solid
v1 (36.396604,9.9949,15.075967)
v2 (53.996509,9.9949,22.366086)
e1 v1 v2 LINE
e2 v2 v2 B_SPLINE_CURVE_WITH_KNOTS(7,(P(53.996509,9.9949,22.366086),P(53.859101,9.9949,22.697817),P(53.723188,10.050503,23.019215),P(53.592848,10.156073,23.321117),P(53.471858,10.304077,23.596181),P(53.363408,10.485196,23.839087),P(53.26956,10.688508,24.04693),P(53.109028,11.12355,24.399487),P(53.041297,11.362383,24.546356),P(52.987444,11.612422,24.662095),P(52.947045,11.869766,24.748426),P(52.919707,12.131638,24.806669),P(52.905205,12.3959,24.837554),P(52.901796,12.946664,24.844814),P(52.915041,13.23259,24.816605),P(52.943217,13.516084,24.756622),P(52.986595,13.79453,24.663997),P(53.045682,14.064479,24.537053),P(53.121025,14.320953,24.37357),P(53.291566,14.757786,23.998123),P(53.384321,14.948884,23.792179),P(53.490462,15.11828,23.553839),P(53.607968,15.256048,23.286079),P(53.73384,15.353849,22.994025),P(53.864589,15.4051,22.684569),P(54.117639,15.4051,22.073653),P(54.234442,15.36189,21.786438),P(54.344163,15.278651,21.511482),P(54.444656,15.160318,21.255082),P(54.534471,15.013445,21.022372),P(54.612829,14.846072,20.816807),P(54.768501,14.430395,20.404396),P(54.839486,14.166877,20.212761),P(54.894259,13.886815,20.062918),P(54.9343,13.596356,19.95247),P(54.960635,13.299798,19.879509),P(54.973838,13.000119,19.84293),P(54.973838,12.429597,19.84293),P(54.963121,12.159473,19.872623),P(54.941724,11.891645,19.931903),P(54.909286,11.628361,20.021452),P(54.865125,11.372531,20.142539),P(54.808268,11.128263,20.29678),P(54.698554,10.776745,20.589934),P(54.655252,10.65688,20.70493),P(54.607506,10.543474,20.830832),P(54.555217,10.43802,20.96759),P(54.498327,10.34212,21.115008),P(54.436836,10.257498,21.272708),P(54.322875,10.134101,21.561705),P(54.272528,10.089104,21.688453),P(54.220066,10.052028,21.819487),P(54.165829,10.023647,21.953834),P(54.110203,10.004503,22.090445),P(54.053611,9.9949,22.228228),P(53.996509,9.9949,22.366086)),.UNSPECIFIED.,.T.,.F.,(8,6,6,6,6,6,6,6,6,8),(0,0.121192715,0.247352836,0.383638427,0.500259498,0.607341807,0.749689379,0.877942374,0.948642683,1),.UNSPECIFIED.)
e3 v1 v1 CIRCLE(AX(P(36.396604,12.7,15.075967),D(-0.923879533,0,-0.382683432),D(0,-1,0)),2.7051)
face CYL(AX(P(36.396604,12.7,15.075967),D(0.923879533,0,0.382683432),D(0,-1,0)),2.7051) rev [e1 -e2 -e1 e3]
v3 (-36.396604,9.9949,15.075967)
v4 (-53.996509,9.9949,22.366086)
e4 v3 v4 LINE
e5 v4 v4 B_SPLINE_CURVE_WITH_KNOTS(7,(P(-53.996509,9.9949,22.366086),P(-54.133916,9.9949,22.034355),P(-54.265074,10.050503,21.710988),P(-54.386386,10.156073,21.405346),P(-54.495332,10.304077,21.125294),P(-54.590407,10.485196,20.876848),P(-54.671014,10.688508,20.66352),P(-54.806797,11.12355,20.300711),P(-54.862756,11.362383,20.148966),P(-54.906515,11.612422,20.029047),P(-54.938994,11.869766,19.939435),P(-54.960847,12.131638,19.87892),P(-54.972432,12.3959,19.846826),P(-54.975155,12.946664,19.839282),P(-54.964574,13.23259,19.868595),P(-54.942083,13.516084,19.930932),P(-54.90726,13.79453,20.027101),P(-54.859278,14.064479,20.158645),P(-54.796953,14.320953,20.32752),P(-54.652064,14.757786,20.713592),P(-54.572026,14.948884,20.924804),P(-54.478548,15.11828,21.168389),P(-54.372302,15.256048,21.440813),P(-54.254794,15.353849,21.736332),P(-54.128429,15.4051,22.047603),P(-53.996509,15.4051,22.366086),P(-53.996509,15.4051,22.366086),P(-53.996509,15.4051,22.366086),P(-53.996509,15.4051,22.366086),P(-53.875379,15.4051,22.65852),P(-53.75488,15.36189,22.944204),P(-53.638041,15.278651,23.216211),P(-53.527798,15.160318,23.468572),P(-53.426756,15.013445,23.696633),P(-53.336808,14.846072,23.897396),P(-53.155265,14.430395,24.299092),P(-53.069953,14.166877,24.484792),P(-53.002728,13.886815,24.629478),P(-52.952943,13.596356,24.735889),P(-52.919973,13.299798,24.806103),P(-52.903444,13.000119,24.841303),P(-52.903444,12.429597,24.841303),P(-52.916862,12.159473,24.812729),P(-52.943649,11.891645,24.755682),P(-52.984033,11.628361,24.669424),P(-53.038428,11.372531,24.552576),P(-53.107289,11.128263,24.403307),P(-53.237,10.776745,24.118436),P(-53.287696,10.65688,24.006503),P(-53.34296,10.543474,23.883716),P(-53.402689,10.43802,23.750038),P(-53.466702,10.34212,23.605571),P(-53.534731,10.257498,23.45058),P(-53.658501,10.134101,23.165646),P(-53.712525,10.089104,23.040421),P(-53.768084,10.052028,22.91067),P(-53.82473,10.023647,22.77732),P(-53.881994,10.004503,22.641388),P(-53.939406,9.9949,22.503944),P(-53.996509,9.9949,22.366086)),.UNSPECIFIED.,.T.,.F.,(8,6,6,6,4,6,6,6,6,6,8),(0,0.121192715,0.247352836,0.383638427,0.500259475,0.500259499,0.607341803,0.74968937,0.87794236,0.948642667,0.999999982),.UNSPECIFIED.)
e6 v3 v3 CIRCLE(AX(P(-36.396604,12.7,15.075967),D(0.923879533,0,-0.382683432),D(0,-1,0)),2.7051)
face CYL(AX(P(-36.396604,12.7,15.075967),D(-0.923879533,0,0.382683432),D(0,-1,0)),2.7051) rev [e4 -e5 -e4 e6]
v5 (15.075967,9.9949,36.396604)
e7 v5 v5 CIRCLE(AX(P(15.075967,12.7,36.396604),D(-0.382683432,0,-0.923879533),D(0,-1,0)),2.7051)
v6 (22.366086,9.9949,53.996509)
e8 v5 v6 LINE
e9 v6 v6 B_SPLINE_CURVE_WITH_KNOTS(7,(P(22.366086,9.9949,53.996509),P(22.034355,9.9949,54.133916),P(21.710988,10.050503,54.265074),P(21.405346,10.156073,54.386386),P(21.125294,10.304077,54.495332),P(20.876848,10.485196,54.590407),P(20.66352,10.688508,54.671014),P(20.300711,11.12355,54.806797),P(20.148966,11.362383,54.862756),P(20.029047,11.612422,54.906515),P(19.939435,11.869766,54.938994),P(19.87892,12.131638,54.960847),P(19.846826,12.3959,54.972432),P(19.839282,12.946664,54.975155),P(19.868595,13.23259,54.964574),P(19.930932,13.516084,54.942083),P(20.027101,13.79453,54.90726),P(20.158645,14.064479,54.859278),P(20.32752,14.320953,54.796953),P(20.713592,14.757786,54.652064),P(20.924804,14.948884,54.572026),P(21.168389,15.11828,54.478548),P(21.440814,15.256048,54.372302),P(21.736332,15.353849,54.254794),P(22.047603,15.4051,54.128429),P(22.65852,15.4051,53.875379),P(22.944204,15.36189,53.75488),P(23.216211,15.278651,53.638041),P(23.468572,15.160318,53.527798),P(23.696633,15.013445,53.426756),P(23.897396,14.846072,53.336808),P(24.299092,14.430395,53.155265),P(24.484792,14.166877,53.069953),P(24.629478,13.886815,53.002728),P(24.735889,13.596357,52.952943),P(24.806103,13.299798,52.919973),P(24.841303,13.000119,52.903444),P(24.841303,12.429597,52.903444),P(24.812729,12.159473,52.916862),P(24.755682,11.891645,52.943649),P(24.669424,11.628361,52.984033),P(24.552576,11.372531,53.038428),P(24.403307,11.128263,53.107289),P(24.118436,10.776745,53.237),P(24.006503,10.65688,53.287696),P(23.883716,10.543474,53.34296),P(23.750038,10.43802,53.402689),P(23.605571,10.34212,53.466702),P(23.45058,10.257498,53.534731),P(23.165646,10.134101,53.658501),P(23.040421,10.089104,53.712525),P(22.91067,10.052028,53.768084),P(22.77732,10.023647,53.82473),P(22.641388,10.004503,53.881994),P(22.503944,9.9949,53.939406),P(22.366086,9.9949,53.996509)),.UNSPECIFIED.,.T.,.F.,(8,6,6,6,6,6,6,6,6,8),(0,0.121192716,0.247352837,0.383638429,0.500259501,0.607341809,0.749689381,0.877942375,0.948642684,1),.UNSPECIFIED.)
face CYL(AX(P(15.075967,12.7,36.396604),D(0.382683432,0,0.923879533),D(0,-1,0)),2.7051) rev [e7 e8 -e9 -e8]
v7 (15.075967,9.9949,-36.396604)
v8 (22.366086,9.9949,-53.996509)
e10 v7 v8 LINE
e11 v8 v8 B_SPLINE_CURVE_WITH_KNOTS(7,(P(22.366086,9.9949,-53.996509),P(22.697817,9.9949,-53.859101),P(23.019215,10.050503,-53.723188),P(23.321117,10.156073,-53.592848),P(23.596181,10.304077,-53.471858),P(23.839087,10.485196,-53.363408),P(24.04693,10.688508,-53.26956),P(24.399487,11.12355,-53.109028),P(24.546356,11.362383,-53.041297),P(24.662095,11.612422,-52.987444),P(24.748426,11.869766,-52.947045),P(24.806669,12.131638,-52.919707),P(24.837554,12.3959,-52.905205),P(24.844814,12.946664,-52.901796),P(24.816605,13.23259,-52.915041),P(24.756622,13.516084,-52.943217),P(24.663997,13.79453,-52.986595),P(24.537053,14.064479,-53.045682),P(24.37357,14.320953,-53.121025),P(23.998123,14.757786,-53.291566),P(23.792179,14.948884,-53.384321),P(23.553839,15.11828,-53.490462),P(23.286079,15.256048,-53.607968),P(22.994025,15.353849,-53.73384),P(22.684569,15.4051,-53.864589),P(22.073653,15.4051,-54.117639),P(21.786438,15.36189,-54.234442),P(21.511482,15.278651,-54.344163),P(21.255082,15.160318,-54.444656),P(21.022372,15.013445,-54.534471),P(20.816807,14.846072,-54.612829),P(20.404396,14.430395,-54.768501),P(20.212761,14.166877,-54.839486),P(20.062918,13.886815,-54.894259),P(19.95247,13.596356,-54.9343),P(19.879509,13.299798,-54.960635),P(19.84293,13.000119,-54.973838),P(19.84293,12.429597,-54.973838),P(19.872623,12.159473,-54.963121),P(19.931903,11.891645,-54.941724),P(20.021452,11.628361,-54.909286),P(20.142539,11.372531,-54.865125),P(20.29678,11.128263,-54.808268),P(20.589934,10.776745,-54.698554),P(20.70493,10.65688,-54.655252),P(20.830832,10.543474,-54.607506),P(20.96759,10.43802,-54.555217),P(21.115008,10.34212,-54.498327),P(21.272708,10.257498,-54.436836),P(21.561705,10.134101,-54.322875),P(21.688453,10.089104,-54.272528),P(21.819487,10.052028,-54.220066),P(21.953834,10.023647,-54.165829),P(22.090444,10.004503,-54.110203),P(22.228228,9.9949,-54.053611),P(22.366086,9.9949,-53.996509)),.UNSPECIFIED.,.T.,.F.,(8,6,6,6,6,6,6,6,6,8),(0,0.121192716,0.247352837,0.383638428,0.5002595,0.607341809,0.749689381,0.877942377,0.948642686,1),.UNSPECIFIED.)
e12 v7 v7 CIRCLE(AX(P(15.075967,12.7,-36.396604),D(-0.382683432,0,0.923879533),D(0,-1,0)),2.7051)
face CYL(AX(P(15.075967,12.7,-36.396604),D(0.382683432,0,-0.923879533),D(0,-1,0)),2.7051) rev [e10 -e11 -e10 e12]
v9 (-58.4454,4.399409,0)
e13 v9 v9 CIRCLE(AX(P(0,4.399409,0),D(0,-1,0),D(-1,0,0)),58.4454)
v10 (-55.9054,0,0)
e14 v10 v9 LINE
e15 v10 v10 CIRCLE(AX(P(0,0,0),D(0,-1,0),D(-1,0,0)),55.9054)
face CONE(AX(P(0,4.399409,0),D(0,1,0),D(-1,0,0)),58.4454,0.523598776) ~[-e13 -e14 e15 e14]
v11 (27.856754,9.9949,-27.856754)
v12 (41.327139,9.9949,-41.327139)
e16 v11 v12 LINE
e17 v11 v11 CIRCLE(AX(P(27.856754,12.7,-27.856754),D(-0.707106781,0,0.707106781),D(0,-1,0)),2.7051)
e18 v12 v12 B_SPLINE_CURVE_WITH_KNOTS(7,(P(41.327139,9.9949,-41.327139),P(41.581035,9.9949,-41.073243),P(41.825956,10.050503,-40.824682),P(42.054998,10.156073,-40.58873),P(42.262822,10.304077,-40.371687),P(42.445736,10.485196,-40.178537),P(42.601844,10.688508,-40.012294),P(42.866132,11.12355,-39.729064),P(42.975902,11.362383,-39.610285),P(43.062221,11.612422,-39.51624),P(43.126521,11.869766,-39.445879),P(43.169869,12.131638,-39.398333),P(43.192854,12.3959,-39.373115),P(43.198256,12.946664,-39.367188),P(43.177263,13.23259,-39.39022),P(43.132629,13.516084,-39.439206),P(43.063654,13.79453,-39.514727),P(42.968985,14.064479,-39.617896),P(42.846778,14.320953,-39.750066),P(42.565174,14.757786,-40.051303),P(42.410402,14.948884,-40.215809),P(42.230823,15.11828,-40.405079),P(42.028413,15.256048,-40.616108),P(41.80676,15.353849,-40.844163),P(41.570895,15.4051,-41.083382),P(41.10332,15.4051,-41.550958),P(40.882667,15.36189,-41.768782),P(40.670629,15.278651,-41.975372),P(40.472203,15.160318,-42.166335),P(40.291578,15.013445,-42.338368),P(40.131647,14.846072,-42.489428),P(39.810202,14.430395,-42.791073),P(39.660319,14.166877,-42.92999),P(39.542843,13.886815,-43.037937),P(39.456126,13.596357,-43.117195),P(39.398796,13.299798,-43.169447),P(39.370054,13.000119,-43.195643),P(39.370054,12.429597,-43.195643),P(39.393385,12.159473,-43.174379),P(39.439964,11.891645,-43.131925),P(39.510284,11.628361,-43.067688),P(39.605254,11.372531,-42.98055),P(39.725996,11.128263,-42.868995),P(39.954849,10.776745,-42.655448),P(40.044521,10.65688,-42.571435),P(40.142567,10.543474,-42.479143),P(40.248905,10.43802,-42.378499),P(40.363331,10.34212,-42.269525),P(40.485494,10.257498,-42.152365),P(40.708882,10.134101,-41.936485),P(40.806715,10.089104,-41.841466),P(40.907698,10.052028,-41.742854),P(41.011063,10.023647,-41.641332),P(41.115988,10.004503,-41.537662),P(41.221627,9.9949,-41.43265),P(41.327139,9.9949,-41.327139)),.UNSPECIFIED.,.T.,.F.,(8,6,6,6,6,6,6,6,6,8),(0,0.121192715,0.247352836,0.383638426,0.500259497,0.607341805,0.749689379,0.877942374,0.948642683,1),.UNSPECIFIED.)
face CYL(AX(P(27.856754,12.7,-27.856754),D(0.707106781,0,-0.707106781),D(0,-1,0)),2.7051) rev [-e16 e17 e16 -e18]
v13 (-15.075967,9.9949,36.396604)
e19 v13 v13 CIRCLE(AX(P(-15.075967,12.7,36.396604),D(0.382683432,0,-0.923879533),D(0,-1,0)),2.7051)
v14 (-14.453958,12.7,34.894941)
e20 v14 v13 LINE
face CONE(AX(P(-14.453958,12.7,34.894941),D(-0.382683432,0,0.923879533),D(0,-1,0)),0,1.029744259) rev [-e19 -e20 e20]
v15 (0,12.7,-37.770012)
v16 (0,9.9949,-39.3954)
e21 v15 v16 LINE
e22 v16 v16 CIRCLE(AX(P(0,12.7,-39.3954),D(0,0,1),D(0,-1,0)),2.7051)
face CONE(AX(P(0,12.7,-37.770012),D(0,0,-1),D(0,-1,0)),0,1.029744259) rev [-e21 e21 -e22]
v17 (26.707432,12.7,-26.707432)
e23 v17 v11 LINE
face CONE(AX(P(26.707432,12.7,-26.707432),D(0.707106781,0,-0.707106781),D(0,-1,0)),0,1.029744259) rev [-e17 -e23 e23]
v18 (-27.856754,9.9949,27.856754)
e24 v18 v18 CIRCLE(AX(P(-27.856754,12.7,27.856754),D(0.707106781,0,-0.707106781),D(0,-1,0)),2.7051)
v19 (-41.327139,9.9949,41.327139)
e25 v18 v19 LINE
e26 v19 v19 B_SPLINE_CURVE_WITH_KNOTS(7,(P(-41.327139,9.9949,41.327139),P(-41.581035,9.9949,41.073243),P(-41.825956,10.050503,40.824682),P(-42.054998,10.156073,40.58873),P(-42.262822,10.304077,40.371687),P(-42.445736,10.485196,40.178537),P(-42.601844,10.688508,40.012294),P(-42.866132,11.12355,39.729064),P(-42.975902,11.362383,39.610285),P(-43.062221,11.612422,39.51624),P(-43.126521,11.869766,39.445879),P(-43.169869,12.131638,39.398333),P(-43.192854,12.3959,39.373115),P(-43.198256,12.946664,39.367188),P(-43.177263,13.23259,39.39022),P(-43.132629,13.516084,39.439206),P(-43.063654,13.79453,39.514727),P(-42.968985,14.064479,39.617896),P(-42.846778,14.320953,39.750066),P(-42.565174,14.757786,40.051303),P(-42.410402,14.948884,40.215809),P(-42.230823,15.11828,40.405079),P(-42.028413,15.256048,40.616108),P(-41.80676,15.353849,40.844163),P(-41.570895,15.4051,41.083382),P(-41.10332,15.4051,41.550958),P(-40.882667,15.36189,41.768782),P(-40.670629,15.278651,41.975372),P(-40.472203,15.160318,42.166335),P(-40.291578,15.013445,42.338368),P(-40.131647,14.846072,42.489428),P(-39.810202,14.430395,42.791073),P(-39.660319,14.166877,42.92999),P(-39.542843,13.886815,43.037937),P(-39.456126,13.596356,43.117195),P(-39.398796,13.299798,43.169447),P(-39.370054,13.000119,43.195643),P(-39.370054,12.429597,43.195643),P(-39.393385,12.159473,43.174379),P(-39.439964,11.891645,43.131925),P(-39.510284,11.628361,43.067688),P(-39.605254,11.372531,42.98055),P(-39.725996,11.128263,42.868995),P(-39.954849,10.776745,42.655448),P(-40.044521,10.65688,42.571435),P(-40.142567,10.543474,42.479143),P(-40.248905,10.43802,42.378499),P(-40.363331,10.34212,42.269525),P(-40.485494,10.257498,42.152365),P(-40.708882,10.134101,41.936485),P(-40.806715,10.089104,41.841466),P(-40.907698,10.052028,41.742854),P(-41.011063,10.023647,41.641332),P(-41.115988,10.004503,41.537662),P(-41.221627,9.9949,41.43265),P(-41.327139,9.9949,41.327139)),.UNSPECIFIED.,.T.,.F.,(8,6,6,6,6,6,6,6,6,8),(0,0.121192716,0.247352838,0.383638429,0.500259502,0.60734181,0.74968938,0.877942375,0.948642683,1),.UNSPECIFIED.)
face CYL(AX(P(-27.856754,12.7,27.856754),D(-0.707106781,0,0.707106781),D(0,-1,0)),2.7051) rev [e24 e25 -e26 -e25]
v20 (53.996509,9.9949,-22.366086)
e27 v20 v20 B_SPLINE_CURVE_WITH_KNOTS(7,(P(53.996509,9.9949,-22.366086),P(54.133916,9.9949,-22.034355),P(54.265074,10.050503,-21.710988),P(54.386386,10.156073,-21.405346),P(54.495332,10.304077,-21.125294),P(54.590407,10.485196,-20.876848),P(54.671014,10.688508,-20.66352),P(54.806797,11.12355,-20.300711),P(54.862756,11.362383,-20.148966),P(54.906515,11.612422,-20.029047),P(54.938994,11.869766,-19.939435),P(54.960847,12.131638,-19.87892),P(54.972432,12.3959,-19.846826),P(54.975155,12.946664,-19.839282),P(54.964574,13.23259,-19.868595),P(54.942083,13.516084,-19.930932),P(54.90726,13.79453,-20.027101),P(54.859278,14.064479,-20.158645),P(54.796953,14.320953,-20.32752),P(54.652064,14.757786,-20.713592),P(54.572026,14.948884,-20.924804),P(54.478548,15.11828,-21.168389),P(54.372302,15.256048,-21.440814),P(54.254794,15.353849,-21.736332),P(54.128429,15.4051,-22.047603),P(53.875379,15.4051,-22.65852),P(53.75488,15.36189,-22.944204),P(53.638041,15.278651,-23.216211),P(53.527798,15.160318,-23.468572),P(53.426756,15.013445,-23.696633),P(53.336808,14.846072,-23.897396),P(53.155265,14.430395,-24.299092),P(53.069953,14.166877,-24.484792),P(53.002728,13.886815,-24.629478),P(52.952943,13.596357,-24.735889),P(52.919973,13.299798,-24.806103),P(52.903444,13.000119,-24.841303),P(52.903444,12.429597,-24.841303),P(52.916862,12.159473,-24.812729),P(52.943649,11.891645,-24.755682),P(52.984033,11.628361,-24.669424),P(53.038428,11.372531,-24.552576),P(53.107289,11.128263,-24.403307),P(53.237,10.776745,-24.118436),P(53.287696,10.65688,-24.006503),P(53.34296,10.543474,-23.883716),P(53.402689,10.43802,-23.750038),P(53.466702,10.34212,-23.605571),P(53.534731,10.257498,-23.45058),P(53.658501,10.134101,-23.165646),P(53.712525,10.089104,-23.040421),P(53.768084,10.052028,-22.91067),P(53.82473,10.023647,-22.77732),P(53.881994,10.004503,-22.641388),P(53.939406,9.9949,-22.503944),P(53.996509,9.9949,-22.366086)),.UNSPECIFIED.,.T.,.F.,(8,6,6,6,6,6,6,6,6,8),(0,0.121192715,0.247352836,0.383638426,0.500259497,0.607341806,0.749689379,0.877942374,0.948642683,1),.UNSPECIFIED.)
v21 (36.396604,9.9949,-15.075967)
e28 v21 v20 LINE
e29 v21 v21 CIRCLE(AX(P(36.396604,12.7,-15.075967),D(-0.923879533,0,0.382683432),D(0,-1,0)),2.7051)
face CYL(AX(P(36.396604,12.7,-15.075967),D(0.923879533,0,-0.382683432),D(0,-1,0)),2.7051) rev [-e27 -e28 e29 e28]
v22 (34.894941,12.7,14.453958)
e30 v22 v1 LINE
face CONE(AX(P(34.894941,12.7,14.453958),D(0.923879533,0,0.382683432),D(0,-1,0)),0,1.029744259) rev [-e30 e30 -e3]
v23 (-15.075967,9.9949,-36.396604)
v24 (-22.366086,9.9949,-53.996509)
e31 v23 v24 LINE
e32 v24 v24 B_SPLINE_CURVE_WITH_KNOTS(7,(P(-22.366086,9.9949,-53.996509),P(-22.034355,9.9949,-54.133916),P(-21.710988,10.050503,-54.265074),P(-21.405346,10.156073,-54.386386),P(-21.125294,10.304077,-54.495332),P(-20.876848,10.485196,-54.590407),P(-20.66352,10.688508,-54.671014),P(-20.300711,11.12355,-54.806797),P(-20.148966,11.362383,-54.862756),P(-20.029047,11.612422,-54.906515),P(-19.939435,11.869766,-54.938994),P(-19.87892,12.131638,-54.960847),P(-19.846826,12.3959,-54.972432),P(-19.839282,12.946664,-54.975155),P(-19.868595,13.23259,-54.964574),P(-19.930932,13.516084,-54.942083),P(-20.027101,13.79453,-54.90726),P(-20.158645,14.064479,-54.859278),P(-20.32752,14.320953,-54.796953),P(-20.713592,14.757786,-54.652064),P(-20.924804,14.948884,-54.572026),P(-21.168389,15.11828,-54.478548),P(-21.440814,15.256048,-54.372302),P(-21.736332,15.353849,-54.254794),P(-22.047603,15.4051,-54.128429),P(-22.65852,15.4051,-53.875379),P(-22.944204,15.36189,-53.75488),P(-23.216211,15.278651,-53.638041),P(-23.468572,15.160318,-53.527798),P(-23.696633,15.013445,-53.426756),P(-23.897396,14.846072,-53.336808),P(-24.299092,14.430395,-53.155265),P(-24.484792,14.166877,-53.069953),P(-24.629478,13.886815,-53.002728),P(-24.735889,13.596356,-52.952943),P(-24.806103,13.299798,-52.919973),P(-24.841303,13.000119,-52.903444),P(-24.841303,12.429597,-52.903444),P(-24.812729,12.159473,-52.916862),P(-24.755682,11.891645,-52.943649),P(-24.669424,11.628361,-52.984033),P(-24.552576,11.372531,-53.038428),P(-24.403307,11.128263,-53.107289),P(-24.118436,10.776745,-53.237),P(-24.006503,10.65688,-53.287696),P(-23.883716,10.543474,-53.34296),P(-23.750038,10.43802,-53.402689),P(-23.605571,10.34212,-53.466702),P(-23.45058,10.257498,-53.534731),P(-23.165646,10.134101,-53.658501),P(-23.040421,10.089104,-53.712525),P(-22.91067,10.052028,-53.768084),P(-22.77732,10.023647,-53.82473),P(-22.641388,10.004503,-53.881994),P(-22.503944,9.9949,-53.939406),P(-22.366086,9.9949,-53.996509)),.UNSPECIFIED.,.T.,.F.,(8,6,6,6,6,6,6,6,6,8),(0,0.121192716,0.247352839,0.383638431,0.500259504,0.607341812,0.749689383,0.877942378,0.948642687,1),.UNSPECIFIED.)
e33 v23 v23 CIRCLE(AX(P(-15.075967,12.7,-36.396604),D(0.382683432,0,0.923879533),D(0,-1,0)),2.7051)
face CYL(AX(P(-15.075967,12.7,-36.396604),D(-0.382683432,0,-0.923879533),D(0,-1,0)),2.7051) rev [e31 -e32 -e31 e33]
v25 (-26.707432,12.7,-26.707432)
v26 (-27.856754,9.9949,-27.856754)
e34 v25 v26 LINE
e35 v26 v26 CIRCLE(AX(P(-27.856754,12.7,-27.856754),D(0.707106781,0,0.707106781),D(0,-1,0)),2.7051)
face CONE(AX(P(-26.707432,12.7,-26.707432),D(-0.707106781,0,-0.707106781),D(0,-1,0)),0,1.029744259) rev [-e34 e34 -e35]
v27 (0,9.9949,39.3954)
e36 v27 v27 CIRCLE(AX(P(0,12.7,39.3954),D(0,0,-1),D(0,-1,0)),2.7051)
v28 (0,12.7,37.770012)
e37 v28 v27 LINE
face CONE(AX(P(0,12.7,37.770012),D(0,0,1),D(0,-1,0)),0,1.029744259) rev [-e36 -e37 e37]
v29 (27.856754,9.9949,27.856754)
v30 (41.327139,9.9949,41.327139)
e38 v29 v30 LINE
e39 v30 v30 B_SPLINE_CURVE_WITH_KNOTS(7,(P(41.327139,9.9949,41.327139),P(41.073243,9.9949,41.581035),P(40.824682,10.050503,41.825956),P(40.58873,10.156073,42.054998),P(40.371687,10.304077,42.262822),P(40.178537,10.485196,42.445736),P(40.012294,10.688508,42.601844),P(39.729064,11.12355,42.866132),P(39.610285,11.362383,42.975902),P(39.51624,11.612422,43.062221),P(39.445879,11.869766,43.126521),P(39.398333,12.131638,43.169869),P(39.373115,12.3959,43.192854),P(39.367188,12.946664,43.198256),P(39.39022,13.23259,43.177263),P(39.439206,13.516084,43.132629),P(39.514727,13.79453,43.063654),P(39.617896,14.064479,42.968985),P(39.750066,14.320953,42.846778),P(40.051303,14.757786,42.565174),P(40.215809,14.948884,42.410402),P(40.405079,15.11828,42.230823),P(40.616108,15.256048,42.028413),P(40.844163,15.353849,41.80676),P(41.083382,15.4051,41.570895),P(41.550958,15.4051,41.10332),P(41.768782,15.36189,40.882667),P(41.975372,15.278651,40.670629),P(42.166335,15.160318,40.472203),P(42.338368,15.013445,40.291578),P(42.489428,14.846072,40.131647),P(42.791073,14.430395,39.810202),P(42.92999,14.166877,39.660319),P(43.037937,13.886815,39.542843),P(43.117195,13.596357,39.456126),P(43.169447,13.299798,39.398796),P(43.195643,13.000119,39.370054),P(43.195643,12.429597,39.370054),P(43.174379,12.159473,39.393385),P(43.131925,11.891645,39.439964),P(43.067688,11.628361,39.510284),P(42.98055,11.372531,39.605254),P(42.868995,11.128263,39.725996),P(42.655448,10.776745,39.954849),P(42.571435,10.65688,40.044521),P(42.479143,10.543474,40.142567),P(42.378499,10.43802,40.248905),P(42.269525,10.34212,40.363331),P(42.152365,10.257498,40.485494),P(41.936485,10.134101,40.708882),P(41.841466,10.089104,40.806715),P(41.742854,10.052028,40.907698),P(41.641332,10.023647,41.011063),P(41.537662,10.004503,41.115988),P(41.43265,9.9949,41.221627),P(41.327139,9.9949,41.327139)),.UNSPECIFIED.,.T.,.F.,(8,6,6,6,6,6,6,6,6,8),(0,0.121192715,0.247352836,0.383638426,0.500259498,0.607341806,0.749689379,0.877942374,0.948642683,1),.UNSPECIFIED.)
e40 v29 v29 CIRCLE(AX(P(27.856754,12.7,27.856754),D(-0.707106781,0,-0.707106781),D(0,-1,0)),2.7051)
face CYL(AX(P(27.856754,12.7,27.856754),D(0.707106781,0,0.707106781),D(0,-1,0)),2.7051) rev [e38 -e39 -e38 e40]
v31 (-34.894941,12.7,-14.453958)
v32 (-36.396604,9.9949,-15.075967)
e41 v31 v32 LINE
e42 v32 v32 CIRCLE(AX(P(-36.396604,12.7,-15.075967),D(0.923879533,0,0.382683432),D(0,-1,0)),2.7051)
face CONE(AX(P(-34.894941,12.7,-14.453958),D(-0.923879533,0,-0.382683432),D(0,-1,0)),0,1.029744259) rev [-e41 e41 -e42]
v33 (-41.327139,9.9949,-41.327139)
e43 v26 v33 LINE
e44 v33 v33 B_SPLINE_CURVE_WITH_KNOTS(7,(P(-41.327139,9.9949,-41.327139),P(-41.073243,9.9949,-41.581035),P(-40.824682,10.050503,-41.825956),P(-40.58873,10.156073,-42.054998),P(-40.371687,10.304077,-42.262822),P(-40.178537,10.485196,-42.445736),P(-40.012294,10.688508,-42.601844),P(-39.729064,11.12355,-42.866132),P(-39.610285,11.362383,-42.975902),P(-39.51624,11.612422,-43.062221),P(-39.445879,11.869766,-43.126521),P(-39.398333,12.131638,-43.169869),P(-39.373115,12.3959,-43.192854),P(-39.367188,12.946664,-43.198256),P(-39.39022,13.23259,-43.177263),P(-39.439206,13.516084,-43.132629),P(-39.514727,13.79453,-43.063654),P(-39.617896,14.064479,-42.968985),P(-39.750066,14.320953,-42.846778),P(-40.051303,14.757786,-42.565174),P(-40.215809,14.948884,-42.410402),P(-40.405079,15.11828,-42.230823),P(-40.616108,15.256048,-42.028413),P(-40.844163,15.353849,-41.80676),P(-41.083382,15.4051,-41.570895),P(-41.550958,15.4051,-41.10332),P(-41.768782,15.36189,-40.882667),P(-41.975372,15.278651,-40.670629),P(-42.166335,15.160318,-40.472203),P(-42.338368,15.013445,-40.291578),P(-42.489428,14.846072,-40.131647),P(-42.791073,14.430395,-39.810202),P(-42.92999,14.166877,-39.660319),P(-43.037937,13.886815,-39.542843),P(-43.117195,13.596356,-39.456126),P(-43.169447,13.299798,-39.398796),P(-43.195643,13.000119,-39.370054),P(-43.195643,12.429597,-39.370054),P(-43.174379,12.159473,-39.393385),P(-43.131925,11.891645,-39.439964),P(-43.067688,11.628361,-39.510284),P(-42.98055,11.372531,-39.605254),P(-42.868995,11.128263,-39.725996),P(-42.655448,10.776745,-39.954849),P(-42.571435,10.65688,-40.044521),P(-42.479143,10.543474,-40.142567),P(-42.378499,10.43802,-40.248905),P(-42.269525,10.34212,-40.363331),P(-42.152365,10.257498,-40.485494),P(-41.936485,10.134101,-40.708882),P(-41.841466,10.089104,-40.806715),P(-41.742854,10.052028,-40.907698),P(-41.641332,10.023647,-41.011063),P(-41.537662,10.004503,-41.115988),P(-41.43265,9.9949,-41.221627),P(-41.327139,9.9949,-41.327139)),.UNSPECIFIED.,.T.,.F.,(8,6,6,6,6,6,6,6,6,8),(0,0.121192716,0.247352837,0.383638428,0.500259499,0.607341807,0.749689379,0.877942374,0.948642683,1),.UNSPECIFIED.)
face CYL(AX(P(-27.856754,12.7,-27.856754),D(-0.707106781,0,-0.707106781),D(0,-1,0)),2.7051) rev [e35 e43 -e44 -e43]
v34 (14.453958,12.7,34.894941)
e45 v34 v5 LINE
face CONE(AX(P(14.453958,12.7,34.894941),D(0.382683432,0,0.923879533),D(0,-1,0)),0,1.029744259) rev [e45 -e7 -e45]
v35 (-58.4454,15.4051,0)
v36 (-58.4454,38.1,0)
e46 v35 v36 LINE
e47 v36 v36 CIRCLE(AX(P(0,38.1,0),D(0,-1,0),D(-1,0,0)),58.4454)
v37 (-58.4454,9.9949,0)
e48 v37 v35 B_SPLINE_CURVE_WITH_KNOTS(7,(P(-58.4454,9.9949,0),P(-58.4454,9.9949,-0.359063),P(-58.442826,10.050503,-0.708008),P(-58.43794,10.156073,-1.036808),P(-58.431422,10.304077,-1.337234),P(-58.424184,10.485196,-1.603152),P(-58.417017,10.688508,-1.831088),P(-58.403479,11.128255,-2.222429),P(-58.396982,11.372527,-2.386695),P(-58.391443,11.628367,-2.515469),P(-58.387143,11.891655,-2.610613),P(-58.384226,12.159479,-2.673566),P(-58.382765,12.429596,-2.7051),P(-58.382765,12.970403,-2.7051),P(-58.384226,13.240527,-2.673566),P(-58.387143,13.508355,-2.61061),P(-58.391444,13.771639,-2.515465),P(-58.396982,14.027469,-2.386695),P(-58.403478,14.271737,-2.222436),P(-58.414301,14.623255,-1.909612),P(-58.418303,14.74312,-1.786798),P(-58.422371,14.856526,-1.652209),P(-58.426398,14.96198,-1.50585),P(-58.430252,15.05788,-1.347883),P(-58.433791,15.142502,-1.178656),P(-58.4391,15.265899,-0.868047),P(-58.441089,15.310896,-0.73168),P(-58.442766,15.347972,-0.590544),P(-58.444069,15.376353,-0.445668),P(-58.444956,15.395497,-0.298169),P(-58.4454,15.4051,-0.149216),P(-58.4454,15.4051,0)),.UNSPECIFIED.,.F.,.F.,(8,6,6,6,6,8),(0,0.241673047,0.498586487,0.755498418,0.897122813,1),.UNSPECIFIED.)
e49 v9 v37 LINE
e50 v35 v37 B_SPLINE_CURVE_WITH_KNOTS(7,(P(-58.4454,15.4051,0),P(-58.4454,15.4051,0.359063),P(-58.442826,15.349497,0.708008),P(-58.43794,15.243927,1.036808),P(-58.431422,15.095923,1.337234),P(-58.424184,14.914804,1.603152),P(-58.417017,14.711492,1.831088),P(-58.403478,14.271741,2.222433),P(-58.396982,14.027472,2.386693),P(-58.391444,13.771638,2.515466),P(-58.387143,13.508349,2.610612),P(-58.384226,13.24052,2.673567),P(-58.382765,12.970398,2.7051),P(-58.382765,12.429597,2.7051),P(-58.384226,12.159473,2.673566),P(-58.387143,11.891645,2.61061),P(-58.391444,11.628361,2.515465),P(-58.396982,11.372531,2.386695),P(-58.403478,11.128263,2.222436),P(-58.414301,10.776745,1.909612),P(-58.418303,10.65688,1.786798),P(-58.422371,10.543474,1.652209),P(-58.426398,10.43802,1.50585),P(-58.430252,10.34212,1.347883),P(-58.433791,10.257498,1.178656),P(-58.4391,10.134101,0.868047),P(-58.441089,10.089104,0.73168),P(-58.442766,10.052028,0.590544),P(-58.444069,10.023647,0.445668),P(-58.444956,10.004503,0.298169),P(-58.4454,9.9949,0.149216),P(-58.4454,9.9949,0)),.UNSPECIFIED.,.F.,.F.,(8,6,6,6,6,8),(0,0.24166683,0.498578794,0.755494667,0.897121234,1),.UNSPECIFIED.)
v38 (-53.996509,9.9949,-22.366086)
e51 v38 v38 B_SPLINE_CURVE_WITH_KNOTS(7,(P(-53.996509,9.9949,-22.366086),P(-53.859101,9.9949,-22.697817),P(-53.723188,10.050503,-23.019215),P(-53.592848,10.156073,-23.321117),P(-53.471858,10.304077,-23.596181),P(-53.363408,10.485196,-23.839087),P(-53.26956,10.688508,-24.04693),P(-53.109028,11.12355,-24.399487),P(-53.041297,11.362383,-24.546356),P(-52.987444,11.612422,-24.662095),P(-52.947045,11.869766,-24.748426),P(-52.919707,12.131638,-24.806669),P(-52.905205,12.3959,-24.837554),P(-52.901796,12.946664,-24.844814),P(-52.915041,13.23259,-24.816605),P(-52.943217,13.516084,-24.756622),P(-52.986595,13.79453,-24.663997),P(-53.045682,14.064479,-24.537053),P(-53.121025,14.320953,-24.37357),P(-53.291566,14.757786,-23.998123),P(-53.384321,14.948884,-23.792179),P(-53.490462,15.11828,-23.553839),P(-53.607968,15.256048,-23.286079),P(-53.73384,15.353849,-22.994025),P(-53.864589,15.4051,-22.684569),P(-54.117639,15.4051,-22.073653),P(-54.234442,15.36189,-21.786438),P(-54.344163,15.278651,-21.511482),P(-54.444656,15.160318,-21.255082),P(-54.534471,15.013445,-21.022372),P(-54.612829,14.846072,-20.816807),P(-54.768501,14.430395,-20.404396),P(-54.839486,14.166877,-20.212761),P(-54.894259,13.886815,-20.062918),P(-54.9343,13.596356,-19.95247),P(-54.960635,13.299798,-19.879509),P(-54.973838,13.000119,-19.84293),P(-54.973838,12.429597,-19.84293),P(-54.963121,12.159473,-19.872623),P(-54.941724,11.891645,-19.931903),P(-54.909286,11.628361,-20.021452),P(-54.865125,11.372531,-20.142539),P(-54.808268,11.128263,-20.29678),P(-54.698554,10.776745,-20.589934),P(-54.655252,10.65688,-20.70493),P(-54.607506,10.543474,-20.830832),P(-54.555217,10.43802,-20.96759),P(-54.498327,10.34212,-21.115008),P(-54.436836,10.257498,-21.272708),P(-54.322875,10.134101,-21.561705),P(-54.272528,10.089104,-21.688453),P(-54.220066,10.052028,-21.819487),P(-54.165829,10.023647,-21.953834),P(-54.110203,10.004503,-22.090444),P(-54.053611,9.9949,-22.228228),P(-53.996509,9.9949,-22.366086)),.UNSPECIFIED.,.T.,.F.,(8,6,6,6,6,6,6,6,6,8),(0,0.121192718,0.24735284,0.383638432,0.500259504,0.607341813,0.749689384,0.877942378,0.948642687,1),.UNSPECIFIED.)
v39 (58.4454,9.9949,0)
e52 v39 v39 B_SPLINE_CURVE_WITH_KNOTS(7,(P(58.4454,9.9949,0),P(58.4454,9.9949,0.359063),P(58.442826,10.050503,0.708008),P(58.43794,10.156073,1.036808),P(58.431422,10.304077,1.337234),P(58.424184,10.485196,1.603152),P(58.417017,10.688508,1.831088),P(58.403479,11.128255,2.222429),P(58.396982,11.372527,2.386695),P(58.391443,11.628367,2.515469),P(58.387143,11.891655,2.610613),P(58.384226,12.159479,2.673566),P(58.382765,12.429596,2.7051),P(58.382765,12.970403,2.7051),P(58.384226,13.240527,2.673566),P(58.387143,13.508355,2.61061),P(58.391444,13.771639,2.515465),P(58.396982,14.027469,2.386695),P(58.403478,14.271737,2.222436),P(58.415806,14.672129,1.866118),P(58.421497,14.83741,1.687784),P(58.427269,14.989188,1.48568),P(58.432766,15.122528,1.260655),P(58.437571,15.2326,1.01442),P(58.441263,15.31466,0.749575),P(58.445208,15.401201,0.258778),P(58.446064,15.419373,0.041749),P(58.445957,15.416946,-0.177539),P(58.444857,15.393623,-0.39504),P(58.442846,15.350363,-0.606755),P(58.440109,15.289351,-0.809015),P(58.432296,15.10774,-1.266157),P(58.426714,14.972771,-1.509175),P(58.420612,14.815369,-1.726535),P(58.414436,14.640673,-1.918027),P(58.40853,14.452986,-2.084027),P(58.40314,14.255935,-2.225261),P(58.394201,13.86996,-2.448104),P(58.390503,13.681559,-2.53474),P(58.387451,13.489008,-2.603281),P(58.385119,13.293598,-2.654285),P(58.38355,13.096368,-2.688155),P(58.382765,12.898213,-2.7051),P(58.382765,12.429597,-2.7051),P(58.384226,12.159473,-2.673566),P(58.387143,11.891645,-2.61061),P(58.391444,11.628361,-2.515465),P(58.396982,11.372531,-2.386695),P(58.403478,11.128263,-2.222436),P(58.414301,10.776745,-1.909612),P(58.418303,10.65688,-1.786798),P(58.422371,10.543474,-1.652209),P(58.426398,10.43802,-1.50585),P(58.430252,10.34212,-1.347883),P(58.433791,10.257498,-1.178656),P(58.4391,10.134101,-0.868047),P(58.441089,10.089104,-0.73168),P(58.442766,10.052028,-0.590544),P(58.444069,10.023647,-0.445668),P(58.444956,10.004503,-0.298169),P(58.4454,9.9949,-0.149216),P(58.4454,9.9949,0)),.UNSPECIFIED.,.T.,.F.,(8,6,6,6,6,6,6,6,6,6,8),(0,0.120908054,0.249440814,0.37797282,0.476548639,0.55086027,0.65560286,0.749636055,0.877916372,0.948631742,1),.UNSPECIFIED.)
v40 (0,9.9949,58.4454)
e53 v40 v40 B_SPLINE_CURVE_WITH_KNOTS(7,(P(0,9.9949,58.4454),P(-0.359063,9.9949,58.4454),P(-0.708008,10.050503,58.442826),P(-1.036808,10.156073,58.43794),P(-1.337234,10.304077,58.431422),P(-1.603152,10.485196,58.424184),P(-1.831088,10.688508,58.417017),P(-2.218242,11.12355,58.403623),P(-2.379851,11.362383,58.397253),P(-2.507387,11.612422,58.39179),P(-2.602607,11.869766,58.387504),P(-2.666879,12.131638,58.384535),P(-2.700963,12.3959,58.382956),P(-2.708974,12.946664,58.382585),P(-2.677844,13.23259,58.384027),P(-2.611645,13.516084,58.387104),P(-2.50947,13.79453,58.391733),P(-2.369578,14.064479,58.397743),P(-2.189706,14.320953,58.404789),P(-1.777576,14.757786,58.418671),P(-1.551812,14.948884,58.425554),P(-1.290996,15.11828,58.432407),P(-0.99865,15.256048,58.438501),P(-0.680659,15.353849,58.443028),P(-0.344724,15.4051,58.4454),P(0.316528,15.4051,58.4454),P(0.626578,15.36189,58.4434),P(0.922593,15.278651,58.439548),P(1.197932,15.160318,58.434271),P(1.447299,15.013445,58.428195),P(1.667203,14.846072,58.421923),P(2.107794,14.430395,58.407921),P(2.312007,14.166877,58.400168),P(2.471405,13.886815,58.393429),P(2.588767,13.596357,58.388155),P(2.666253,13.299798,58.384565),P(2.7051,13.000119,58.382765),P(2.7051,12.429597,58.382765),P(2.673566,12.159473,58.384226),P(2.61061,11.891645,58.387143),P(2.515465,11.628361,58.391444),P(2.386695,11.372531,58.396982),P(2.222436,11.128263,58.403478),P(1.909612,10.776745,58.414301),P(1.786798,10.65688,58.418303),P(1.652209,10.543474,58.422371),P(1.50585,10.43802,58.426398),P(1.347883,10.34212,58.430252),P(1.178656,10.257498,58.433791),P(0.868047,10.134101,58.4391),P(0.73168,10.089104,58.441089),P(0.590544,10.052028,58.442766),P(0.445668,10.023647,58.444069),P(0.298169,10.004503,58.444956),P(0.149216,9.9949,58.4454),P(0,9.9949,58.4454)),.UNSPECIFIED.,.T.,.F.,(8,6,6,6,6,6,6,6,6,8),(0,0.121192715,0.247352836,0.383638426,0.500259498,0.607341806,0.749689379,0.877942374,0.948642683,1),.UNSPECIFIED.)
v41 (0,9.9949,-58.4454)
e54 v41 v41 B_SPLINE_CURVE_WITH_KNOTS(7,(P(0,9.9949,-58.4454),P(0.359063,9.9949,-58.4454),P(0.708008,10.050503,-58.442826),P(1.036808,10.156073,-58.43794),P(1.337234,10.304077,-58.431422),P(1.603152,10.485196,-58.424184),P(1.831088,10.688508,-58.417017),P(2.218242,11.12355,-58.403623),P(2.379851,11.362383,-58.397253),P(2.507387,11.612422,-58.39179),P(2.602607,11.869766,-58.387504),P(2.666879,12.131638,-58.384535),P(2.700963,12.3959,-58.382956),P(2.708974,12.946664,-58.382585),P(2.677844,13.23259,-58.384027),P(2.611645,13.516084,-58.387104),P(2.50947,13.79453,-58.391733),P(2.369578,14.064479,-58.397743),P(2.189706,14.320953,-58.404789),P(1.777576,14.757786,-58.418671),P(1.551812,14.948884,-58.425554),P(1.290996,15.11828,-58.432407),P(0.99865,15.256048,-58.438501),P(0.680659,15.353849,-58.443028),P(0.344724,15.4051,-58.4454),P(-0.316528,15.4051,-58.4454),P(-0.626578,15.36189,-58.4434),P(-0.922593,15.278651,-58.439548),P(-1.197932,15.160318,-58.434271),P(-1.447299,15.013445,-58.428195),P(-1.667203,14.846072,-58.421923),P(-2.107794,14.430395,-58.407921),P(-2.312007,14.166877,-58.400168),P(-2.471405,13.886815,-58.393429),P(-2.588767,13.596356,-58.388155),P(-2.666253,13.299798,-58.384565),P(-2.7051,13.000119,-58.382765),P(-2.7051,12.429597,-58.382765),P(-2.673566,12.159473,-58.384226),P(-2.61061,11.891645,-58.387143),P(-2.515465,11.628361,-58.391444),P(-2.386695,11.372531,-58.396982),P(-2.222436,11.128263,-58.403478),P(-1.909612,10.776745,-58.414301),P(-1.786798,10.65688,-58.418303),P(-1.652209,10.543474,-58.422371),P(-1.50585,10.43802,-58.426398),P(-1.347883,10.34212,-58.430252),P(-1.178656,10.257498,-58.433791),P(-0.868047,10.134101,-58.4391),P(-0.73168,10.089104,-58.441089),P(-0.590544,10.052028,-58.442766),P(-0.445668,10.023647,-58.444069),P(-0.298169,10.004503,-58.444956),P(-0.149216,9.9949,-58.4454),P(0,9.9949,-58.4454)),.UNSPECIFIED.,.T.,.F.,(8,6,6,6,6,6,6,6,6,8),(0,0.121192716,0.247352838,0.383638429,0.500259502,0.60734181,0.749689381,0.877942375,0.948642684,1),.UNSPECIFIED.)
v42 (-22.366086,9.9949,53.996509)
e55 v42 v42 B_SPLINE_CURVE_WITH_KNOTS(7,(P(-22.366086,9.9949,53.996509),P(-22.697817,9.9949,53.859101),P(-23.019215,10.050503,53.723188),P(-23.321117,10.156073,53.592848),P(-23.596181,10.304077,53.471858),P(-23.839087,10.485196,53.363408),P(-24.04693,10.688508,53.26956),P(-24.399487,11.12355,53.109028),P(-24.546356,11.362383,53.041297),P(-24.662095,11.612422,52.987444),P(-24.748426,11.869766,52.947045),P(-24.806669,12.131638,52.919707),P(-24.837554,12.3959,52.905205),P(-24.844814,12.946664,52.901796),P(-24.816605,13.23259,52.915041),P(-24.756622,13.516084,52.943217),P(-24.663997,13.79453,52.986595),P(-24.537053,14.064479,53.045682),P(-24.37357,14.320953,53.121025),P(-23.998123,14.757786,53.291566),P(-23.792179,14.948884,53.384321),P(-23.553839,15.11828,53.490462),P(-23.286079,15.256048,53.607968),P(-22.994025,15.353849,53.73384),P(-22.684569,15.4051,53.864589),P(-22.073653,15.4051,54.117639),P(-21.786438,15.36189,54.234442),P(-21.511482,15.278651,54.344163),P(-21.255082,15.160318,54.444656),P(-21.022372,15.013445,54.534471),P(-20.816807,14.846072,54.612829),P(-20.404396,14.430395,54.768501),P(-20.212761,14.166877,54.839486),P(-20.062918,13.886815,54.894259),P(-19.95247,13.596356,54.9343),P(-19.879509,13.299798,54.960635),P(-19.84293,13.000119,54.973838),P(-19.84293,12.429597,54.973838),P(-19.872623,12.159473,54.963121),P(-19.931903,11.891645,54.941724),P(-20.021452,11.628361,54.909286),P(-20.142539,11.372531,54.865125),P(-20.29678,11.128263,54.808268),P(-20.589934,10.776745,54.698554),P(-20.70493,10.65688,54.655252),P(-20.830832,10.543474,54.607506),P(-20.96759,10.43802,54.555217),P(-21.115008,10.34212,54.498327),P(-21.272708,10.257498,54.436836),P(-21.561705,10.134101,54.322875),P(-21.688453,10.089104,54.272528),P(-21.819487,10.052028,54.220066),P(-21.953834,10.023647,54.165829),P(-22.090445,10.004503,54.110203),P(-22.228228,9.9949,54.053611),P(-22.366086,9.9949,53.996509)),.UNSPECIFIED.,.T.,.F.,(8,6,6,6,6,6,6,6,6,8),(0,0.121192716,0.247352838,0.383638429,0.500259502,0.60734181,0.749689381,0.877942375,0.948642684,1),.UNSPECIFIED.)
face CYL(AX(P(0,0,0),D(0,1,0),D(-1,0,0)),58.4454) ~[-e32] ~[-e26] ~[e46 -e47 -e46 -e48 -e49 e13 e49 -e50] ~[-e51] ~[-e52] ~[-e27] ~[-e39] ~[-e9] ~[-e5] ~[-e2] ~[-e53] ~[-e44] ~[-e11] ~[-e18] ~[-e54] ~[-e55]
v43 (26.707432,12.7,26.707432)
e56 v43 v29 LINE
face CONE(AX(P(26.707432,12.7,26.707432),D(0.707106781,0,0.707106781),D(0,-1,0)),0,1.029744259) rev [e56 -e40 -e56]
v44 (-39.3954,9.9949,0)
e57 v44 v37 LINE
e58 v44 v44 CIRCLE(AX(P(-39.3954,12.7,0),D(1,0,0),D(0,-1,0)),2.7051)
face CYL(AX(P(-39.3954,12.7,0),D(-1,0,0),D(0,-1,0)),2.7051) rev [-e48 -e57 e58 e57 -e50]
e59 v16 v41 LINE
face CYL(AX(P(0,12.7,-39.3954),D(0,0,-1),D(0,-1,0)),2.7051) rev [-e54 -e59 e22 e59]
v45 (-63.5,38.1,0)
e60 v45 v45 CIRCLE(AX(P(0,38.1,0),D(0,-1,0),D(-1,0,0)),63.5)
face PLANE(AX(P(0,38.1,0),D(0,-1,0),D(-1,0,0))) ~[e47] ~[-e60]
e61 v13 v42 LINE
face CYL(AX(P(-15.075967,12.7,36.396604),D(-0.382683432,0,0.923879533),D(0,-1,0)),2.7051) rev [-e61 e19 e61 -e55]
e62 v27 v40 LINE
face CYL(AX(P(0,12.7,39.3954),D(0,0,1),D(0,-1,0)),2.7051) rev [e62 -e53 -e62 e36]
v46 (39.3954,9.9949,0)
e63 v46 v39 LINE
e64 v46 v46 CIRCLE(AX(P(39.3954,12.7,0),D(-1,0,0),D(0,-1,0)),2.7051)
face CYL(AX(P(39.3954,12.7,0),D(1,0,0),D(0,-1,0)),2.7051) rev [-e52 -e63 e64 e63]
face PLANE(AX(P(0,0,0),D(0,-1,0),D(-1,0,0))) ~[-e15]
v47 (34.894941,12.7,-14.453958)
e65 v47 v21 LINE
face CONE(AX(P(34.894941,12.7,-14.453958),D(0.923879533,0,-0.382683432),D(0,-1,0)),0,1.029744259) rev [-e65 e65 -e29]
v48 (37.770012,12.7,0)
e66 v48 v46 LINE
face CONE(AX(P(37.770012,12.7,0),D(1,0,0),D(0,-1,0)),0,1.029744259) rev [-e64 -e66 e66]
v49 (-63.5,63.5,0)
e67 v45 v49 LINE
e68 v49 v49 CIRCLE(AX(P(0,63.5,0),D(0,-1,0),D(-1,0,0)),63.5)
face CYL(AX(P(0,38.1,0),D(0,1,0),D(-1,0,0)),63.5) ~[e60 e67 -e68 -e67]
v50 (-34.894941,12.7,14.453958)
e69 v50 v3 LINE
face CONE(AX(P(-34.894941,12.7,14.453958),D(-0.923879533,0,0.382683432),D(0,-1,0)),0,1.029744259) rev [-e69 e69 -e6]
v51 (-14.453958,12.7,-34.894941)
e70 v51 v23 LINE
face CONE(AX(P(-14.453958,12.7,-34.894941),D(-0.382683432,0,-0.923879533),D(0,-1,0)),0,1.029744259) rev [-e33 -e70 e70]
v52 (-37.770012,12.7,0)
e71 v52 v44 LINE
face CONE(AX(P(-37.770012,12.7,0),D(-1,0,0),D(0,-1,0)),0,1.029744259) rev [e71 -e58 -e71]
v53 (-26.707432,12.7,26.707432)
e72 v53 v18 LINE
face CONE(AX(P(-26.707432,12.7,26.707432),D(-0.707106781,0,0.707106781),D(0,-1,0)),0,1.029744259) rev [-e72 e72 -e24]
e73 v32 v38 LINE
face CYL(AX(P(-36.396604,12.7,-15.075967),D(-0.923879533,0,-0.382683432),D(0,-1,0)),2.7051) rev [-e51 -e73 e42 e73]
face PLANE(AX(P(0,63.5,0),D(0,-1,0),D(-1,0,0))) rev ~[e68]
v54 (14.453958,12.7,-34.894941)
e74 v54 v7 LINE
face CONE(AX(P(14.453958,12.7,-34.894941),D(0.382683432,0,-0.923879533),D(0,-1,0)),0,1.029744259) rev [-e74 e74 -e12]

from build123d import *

# Parameters (mm, degrees)
TAP_PATTERN_COUNT = 16
CHAMFER1_SIZE     = 2.54
CHAMFER1_SIZE2    = 4.399409051


with BuildPart() as part:
    # Sketch1 → Revolve1 (revolve)
    with BuildSketch(Plane.XY):
        Polygon((0, 0), (-58.4454, 0), (-58.4454, 38.1), (-63.5, 38.1), (-63.5, 63.5), (0, 63.5), align=None)
    revolve(axis=Axis((0, 63.5, 0), (0, -1, 0)))

    # Sketch13 → 1/4-28 Tap (revolve, cut)
    with BuildSketch(Plane(origin=(0, 12.7, 58.4454), x_dir=(0, -1, 0), z_dir=(1, 0, 0))):
        Polygon((0, 0), (0, 20.675388061), (2.7051, 19.05), (2.7051, 0), align=None)
    f_1_4_28_tap = revolve(axis=Axis((0, 12.7, 64.7954), (0, 0, -1)), mode=Mode.SUBTRACT)

    # Tap Pattern: 1/4-28 Tap ×16 about axis
    tap_pattern_axis = Axis((0, 0, 0), (0, 1, 0))
    for i in range(1, TAP_PATTERN_COUNT):
        add(f_1_4_28_tap.rotate(tap_pattern_axis, i * 360 / TAP_PATTERN_COUNT), mode=Mode.SUBTRACT)

    # Chamfer1
    chamfer1_edges = [part.edges().sort_by_distance(p)[0] for p in [
        (58.4454, 0, 0),
    ]]
    chamfer1_side = [part.faces().sort_by_distance(p)[0] for p in [
        (0, 0, 0),
    ]]
    chamfer(chamfer1_edges, length=CHAMFER1_SIZE, length2=CHAMFER1_SIZE2, reference=chamfer1_side[0])


solid = part.part
